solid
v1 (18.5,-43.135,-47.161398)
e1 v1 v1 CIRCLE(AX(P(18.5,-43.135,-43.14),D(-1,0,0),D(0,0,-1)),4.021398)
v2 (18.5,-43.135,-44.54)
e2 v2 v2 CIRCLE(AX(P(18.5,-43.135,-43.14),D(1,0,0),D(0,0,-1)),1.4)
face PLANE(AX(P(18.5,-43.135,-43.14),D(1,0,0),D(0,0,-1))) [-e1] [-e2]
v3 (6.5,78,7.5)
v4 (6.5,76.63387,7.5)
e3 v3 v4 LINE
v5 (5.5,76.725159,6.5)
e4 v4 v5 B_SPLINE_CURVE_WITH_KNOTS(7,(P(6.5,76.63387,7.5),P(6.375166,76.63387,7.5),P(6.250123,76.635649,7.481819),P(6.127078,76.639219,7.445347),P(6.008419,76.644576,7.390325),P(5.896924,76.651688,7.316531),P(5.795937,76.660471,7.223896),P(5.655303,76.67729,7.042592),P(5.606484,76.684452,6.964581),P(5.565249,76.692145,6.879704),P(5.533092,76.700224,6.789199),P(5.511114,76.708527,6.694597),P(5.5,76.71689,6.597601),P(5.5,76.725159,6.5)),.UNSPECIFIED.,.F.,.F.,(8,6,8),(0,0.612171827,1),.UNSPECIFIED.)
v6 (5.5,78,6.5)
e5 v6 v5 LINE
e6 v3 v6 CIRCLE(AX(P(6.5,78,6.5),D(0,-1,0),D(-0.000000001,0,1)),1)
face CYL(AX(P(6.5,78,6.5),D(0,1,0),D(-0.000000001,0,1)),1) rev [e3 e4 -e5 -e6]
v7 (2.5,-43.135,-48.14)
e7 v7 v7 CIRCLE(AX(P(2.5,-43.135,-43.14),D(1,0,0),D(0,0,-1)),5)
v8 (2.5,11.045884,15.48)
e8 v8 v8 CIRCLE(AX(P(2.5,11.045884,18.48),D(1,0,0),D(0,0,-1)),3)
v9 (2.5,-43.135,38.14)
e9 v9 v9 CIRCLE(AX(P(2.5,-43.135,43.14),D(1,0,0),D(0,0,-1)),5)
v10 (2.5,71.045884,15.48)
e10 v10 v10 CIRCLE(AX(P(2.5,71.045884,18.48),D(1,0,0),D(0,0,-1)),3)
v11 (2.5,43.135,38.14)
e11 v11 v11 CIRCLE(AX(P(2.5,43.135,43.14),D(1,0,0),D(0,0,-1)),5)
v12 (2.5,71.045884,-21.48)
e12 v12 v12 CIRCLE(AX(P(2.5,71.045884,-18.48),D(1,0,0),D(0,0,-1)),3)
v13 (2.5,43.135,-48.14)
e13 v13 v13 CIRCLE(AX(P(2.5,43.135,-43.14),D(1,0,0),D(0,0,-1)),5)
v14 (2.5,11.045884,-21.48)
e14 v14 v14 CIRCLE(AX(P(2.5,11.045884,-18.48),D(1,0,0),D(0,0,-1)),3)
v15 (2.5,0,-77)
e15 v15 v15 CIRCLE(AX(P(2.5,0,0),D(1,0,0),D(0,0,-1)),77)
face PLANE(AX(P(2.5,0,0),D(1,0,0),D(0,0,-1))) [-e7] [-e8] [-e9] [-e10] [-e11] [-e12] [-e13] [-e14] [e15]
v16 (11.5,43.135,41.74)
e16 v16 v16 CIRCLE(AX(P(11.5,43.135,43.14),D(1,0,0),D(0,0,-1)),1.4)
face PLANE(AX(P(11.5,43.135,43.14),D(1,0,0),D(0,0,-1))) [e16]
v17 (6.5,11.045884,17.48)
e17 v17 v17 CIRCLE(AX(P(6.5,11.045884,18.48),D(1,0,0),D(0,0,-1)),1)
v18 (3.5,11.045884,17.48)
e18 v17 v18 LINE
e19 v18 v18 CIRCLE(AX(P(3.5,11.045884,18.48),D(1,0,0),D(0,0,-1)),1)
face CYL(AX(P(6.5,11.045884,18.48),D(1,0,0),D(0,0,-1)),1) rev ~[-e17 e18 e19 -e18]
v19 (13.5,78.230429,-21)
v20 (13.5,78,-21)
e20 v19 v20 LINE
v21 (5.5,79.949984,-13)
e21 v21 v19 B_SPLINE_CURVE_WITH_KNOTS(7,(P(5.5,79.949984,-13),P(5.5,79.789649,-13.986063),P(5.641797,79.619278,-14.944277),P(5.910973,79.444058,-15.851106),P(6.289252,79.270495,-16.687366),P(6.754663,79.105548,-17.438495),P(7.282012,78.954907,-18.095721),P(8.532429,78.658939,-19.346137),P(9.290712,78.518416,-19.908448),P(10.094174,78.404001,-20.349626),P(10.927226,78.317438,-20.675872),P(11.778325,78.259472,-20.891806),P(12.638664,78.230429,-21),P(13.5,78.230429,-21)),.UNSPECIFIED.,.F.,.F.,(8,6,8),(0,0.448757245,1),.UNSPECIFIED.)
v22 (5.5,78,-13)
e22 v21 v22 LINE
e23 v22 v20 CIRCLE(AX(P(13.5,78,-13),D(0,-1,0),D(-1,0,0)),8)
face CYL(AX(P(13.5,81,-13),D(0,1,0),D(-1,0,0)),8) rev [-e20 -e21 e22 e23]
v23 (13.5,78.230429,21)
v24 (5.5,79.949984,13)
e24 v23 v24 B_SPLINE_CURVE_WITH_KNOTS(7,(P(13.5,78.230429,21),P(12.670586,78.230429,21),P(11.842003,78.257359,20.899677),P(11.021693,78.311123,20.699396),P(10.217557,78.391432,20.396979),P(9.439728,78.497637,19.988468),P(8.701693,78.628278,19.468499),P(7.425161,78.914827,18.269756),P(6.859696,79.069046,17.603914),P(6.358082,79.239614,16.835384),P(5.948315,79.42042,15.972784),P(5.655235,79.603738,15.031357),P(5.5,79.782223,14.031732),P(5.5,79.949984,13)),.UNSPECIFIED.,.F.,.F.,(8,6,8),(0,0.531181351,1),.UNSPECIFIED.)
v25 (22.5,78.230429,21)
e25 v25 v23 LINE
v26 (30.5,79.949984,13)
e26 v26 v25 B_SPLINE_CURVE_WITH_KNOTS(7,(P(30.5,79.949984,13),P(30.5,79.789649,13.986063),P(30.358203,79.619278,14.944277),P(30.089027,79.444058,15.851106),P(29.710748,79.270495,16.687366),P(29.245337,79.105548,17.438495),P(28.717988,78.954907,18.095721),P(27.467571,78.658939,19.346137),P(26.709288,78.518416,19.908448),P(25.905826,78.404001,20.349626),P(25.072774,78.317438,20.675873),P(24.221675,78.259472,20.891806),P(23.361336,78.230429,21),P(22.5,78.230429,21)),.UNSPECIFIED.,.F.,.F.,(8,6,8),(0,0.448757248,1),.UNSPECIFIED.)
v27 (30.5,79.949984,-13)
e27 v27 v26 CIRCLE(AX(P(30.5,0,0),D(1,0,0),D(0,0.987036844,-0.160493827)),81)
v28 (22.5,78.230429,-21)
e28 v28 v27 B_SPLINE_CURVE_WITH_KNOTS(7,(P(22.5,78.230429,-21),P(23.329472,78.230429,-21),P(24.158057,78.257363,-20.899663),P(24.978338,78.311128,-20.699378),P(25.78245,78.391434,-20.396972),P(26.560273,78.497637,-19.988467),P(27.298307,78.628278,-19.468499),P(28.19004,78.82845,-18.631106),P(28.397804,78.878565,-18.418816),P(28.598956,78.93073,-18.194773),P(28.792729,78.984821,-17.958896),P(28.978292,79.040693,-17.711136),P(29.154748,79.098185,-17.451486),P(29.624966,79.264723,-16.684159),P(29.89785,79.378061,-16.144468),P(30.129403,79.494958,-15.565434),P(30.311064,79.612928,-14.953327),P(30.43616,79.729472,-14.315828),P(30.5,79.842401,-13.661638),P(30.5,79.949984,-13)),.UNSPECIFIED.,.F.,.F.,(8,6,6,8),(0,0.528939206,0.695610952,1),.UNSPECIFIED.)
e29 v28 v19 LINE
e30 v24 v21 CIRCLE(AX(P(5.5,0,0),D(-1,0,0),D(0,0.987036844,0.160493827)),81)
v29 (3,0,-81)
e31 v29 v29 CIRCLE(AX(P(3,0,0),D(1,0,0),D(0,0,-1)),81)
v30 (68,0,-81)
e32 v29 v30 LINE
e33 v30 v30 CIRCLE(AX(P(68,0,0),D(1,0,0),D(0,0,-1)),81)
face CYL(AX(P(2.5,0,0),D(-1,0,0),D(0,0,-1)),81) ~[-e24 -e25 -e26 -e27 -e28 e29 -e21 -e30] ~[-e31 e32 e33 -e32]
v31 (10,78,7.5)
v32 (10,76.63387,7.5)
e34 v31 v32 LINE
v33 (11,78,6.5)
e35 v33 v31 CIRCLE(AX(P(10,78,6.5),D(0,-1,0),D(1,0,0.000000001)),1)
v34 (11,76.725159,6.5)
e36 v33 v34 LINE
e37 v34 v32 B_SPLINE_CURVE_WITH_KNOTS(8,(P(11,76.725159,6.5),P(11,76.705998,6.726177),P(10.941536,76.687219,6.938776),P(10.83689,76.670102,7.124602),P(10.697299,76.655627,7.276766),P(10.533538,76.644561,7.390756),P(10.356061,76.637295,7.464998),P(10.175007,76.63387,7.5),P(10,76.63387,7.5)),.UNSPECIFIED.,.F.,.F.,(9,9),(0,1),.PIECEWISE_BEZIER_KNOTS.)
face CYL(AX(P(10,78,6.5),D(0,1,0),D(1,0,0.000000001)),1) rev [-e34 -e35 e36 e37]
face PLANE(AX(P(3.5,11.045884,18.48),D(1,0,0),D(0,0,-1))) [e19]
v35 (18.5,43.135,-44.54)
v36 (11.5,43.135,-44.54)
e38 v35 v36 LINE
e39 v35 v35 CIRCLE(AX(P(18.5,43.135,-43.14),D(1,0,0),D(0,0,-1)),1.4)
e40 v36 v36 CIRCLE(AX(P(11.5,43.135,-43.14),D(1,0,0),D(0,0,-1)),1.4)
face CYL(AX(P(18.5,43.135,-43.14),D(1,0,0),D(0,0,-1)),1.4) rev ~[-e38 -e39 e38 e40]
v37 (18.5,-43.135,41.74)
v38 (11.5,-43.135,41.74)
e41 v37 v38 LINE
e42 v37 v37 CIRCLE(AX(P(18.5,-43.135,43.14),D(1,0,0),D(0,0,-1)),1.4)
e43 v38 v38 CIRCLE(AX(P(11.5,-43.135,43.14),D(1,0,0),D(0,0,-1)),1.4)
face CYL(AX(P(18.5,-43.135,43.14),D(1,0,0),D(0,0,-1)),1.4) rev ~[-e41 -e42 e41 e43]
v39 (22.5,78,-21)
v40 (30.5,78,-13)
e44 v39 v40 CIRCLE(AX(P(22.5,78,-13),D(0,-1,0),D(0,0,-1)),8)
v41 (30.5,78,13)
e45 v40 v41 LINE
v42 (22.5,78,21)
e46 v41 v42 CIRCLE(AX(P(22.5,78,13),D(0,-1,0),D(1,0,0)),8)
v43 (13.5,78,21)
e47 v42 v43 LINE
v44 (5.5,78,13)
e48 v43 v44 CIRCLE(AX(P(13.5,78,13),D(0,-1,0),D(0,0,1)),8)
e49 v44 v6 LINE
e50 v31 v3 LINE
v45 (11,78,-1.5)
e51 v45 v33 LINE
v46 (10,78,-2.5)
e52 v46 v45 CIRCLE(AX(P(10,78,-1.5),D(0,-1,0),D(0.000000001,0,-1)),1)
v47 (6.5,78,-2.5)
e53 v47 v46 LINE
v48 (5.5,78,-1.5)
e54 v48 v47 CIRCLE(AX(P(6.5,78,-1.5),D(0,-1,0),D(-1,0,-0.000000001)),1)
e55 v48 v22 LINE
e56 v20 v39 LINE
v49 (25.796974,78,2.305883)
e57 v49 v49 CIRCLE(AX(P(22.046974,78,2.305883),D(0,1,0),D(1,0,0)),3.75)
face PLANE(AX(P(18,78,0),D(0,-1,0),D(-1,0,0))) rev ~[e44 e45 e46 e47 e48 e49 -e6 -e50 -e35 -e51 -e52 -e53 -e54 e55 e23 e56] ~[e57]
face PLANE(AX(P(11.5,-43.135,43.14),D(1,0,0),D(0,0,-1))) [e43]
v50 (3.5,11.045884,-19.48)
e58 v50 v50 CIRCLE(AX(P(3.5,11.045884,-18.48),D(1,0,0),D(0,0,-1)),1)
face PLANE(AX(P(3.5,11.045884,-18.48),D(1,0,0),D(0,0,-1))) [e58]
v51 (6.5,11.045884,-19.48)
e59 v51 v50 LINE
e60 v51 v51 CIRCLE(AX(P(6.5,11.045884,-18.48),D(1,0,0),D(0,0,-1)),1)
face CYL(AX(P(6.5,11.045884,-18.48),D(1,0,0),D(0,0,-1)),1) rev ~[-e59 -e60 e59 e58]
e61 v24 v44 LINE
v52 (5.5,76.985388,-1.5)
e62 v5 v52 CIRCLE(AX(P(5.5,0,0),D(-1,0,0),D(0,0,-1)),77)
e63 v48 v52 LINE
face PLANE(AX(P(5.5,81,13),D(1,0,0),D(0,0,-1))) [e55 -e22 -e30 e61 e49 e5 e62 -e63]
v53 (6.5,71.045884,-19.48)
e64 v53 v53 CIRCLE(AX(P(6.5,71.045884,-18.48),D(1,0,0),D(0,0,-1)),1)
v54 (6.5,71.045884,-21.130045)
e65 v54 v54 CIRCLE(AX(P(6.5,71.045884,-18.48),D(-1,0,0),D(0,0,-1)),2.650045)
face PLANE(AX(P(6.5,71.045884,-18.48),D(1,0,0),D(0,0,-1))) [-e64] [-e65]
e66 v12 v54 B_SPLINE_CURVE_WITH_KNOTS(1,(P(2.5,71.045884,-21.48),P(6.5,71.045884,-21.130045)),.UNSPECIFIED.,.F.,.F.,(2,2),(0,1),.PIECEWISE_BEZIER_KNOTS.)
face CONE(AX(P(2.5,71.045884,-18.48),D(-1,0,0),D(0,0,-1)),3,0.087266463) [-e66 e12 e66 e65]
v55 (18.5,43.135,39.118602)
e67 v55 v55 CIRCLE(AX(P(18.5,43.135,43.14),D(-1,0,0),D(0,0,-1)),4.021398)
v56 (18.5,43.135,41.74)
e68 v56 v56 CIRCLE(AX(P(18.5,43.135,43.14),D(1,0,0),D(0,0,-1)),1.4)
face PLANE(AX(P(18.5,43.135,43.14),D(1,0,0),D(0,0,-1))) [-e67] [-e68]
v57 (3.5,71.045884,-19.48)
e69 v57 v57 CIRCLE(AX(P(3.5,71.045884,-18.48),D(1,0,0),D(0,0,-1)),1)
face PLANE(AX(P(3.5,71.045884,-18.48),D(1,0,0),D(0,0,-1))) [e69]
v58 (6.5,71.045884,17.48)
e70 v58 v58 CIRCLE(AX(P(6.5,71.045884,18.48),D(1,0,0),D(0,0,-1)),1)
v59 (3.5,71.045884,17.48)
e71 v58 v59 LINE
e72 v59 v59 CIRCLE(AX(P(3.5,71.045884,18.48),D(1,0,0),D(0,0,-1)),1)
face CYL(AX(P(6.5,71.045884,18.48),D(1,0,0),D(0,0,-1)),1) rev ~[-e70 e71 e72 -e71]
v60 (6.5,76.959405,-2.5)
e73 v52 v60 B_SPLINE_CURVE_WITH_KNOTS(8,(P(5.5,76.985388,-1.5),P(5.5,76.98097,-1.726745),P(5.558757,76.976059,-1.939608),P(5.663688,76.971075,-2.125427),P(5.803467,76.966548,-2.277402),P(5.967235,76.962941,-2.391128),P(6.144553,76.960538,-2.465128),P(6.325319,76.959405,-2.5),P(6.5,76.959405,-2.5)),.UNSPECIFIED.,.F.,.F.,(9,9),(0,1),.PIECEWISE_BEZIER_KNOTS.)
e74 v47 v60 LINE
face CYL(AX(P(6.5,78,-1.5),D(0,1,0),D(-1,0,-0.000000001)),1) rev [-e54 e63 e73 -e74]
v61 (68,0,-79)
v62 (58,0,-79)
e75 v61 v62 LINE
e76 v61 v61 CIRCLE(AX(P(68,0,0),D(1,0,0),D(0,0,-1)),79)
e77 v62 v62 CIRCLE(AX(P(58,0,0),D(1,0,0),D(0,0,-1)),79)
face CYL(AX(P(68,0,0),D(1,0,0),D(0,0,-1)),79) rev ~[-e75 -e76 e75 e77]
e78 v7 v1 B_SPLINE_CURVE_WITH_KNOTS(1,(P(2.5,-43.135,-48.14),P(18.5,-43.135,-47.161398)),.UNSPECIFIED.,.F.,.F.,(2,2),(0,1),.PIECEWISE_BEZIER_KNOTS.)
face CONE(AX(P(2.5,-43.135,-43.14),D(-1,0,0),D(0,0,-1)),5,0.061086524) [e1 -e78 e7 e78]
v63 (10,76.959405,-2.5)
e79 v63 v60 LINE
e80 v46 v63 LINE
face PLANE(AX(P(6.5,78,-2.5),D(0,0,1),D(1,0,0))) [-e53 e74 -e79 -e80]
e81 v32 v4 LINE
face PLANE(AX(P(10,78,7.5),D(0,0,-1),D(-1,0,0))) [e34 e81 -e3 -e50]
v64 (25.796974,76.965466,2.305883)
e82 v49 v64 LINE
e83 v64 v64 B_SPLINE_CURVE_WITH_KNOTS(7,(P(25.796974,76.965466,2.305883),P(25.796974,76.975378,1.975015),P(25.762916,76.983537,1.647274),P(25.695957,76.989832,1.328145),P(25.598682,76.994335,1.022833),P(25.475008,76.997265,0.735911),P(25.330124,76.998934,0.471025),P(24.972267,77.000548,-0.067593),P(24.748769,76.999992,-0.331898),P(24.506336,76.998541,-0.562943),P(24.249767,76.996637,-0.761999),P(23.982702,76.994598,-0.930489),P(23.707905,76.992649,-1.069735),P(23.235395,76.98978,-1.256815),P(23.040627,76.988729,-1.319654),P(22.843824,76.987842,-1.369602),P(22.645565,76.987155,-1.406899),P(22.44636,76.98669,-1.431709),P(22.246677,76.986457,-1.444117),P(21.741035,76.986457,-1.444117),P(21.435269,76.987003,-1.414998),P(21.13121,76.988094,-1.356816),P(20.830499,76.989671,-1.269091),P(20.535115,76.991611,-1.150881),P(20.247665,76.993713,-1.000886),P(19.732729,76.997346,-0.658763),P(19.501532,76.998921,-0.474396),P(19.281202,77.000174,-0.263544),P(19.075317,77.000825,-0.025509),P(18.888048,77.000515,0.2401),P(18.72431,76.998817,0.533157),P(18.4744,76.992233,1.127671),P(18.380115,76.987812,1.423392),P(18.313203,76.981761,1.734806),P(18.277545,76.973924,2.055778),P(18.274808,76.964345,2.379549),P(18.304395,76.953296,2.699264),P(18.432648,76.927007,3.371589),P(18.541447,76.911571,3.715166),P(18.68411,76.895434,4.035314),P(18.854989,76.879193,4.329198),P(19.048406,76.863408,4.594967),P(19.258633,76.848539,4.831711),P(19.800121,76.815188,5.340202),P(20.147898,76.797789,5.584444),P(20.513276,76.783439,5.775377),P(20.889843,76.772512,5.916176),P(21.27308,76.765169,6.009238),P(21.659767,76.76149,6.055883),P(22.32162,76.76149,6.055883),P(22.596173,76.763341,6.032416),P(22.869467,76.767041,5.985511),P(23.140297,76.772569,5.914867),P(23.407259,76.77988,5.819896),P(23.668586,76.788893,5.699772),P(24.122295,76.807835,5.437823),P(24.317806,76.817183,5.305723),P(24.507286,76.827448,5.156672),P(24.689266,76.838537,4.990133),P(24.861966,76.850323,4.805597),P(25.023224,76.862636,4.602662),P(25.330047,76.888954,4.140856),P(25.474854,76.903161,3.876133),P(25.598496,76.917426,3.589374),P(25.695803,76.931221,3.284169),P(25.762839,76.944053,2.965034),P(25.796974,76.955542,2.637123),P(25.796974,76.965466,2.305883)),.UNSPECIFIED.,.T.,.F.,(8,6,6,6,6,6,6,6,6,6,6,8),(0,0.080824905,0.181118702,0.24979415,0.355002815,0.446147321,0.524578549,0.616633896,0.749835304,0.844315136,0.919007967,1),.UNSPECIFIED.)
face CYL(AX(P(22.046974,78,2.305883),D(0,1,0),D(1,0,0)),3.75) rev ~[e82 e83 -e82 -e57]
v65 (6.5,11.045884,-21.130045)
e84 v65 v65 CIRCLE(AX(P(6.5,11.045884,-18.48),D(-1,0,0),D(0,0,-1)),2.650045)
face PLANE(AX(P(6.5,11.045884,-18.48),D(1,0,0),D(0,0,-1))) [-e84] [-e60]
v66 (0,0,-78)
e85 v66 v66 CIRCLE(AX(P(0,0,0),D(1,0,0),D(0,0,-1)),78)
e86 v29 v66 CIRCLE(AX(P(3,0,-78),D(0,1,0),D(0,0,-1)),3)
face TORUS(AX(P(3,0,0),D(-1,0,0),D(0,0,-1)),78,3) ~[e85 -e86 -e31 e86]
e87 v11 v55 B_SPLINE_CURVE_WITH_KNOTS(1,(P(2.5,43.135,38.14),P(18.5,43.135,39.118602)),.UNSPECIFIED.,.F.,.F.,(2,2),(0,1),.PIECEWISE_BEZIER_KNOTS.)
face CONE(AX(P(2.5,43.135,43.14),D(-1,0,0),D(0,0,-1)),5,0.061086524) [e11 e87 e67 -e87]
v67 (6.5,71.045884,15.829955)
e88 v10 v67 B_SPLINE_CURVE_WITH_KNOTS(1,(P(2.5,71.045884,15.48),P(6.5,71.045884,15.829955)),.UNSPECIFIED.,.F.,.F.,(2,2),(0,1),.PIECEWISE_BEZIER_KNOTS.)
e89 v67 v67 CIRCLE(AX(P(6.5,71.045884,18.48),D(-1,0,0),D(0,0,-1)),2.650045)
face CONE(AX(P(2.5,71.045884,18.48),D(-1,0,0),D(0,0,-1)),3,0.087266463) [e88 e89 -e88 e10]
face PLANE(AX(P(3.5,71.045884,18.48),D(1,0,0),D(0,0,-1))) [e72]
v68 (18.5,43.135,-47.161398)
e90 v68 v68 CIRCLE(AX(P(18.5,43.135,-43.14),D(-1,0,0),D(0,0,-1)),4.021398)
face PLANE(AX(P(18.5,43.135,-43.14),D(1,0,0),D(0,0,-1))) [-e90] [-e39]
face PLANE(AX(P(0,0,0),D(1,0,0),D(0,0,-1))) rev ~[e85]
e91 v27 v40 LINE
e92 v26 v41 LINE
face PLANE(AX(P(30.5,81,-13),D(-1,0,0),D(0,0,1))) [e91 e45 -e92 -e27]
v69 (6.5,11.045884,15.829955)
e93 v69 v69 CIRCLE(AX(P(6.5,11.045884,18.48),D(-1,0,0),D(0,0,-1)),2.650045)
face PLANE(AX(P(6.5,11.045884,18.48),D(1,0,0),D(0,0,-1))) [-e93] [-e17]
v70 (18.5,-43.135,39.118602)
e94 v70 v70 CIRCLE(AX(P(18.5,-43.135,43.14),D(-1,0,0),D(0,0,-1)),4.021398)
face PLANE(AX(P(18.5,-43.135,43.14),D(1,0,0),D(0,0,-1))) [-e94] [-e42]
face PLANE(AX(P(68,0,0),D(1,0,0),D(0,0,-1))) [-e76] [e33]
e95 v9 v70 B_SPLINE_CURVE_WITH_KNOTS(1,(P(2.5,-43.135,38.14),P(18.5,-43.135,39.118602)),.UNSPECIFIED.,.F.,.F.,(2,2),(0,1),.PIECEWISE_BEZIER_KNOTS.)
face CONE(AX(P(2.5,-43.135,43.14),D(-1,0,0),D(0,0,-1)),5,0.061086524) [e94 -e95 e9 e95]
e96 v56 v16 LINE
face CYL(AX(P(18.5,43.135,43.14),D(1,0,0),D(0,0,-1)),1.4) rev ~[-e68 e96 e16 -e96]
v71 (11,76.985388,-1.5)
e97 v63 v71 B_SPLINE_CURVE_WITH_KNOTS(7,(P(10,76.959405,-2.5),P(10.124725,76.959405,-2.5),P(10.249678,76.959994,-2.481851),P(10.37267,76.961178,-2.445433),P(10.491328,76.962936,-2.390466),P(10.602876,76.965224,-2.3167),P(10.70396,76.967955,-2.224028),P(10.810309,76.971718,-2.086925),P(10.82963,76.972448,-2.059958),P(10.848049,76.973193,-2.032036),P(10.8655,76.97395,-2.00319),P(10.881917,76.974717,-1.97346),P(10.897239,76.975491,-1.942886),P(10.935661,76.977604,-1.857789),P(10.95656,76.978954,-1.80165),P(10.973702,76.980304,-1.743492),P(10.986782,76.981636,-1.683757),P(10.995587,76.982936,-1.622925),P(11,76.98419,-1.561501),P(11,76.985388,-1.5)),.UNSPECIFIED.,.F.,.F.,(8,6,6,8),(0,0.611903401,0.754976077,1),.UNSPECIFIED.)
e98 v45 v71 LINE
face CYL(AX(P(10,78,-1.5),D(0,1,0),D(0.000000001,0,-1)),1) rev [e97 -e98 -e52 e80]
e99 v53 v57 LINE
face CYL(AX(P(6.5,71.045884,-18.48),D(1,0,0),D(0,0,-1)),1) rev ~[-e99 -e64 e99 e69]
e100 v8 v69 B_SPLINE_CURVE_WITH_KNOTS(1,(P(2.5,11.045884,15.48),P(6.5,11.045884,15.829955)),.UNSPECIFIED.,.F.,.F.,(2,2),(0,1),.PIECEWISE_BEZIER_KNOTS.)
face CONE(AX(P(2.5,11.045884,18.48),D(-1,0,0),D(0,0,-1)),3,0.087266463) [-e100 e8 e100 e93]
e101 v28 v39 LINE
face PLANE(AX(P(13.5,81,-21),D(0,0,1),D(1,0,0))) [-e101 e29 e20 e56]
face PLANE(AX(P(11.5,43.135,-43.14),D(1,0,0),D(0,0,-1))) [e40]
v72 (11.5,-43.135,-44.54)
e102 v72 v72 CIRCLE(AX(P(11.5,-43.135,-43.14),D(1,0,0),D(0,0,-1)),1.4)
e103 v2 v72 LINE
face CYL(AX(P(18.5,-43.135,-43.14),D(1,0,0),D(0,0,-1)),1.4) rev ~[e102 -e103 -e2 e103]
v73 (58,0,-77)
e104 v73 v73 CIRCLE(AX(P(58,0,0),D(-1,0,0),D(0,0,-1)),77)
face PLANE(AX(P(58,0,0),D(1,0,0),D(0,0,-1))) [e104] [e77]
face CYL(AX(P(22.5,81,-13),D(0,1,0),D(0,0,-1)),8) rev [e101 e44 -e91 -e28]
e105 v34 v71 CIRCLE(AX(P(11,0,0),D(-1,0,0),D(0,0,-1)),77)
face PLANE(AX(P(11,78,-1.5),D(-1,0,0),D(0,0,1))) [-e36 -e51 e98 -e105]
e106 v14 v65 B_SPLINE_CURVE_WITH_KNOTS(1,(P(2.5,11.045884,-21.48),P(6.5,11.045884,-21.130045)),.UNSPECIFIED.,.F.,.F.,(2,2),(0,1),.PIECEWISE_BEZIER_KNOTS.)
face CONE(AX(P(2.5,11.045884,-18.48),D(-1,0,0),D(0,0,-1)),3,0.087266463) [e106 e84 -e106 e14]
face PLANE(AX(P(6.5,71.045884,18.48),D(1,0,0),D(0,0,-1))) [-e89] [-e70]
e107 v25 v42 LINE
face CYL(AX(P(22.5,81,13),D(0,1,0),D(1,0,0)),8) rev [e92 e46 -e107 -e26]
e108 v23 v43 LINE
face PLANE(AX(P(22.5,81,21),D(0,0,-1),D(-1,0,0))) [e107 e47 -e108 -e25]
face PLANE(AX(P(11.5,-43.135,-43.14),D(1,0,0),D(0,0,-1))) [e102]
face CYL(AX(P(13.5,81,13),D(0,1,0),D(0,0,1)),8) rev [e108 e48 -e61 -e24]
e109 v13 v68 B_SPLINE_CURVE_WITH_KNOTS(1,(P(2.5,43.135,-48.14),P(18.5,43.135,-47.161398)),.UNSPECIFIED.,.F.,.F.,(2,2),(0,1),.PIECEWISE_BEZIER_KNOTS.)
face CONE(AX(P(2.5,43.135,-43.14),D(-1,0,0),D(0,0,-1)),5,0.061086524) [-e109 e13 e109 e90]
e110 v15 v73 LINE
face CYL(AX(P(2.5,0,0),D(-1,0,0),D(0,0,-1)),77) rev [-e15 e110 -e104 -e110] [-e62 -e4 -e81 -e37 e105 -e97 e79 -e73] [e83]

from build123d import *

# Parameters (mm, degrees)
SKETCH1_R           = 81
BOSS_EXTRUDE1_DEPTH = 2.5
SKETCH2_R           = 81
SKETCH2_R_2         = 77
BOSS_EXTRUDE2_DEPTH = 65.5
SKETCH4_R           = 5
BOSS_EXTRUDE3_DEPTH = 16
BOSS_EXTRUDE3_TAPER = 3.5
SKETCH6_R           = 1.4
CUT_EXTRUDE2_DEPTH  = 7
SKETCH7_R           = 79
CUT_EXTRUDE3_DEPTH  = 10
FILLET1_R           = 3
SKETCH8_R           = 3
BOSS_EXTRUDE4_DEPTH = 4
BOSS_EXTRUDE4_TAPER = 5
SKETCH9_R           = 1
CUT_EXTRUDE4_DEPTH  = 3
CUT_EXTRUDE5_DEPTH  = 3
CUT_EXTRUDE7_DEPTH  = 3
SKETCH15_R          = 3.75
CUT_EXTRUDE8_DEPTH  = 3


with BuildPart() as part:
    # Sketch1 → Boss-Extrude1 (new body)
    with BuildSketch(Plane(origin=(0, 0, 0), x_dir=(0, 0, -1), z_dir=(1, 0, 0))):
        Circle(SKETCH1_R)
    extrude(amount=BOSS_EXTRUDE1_DEPTH)

    # Sketch2 → Boss-Extrude2 (add)
    with BuildSketch(Plane(origin=(2.5, 0, 0), x_dir=(0, 0, -1), z_dir=(1, 0, 0))):
        Circle(SKETCH2_R)
        Circle(SKETCH2_R_2, mode=Mode.SUBTRACT)
    extrude(amount=BOSS_EXTRUDE2_DEPTH)

    # Sketch4 → Boss-Extrude3 (add)
    with BuildSketch(Plane(origin=(2.5, 0, 0), x_dir=(0, 0, -1), z_dir=(1, 0, 0))):
        with Locations((43.14, 43.135)):
            Circle(SKETCH4_R)
        with Locations((-43.14, 43.135)):
            Circle(SKETCH4_R)
        with Locations((43.14, -43.135)):
            Circle(SKETCH4_R)
        with Locations((-43.14, -43.135)):
            Circle(SKETCH4_R)
    extrude(amount=BOSS_EXTRUDE3_DEPTH, taper=BOSS_EXTRUDE3_TAPER)

    # Sketch6 → Cut-Extrude2 (cut)
    with BuildSketch(Plane(origin=(18.5, 0, 0), x_dir=(0, 0, -1), z_dir=(1, 0, 0))):
        with Locations((-43.14, 43.135)):
            Circle(SKETCH6_R)
        with Locations((43.14, 43.135)):
            Circle(SKETCH6_R)
        with Locations((-43.14, -43.135)):
            Circle(SKETCH6_R)
        with Locations((43.14, -43.135)):
            Circle(SKETCH6_R)
    extrude(amount=-CUT_EXTRUDE2_DEPTH, mode=Mode.SUBTRACT)

    # Sketch7 → Cut-Extrude3 (cut)
    with BuildSketch(Plane(origin=(68, 0, 0), x_dir=(0, 0, -1), z_dir=(1, 0, 0))):
        Circle(SKETCH7_R)
    extrude(amount=-CUT_EXTRUDE3_DEPTH, mode=Mode.SUBTRACT)

    # Fillet1
    fillet1_edges = [part.edges().sort_by_distance(p)[0] for p in [
        (0, 0, 81),
    ]]
    fillet(fillet1_edges, radius=FILLET1_R)

    # Sketch8 → Boss-Extrude4 (add)
    with BuildSketch(Plane(origin=(2.5, 0, 0), x_dir=(0, 0, -1), z_dir=(1, 0, 0))):
        with Locations((18.48, 71.045884469)):
            Circle(SKETCH8_R)
        with Locations((-18.48, 71.045884469)):
            Circle(SKETCH8_R)
        with Locations((18.48, 11.045884469)):
            Circle(SKETCH8_R)
        with Locations((-18.48, 11.045884469)):
            Circle(SKETCH8_R)
    extrude(amount=BOSS_EXTRUDE4_DEPTH, taper=BOSS_EXTRUDE4_TAPER)

    # Sketch9 → Cut-Extrude4 (cut)
    with BuildSketch(Plane(origin=(6.5, 0, 0), x_dir=(0, 0, -1), z_dir=(1, 0, 0))):
        with Locations((18.48, 71.045884469)):
            Circle(SKETCH9_R)
        with Locations((-18.48, 71.045884469)):
            Circle(SKETCH9_R)
        with Locations((-18.48, 11.045884469)):
            Circle(SKETCH9_R)
        with Locations((18.48, 11.045884469)):
            Circle(SKETCH9_R)
    extrude(amount=-CUT_EXTRUDE4_DEPTH, mode=Mode.SUBTRACT)

    # Sketch10 → Cut-Extrude5 (cut)
    with BuildSketch(Plane(origin=(0, 81, 0), x_dir=(1, 0, 0), z_dir=(0, 1, 0))):
        with BuildLine():
            Line((13.5, 21), (22.5, 21))
            ThreePointArc((22.5, 21), (28.156854249, 18.656854249), (30.5, 13))
            Line((30.5, 13), (30.5, -13))
            ThreePointArc((30.5, -13), (28.156854249, -18.656854249), (22.5, -21))
            Line((22.5, -21), (13.5, -21))
            ThreePointArc((13.5, -21), (7.843145751, -18.656854249), (5.5, -13))
            Line((5.5, -13), (5.5, 13))
            ThreePointArc((5.5, 13), (7.843145751, 18.656854249), (13.5, 21))
        make_face()
    extrude(amount=-CUT_EXTRUDE5_DEPTH, mode=Mode.SUBTRACT)

    # Sketch14 → Cut-Extrude7 (cut)
    with BuildSketch(Plane(origin=(0, 78, 0), x_dir=(1, 0, 0), z_dir=(0, 1, 0))):
        with BuildLine():
            Line((6.5, 2.5), (10, 2.5))
            ThreePointArc((10, 2.5), (10.707106781, 2.207106781), (11, 1.5))
            Line((11, 1.5), (11, -6.5))
            ThreePointArc((11, -6.5), (10.707106781, -7.207106781), (10, -7.5))
            Line((10, -7.5), (6.5, -7.5))
            ThreePointArc((6.5, -7.5), (5.792893219, -7.207106781), (5.5, -6.5))
            Line((5.5, -6.5), (5.5, 1.5))
            ThreePointArc((5.5, 1.5), (5.792893219, 2.207106781), (6.5, 2.5))
        make_face()
    extrude(amount=-CUT_EXTRUDE7_DEPTH, mode=Mode.SUBTRACT)

    # Sketch15 → Cut-Extrude8 (cut)
    with BuildSketch(Plane(origin=(0, 78, 0), x_dir=(1, 0, 0), z_dir=(0, 1, 0))):
        with Locations((22.046973968, -2.305883158)):
            Circle(SKETCH15_R)
    extrude(amount=-CUT_EXTRUDE8_DEPTH, mode=Mode.SUBTRACT)


solid = part.part
